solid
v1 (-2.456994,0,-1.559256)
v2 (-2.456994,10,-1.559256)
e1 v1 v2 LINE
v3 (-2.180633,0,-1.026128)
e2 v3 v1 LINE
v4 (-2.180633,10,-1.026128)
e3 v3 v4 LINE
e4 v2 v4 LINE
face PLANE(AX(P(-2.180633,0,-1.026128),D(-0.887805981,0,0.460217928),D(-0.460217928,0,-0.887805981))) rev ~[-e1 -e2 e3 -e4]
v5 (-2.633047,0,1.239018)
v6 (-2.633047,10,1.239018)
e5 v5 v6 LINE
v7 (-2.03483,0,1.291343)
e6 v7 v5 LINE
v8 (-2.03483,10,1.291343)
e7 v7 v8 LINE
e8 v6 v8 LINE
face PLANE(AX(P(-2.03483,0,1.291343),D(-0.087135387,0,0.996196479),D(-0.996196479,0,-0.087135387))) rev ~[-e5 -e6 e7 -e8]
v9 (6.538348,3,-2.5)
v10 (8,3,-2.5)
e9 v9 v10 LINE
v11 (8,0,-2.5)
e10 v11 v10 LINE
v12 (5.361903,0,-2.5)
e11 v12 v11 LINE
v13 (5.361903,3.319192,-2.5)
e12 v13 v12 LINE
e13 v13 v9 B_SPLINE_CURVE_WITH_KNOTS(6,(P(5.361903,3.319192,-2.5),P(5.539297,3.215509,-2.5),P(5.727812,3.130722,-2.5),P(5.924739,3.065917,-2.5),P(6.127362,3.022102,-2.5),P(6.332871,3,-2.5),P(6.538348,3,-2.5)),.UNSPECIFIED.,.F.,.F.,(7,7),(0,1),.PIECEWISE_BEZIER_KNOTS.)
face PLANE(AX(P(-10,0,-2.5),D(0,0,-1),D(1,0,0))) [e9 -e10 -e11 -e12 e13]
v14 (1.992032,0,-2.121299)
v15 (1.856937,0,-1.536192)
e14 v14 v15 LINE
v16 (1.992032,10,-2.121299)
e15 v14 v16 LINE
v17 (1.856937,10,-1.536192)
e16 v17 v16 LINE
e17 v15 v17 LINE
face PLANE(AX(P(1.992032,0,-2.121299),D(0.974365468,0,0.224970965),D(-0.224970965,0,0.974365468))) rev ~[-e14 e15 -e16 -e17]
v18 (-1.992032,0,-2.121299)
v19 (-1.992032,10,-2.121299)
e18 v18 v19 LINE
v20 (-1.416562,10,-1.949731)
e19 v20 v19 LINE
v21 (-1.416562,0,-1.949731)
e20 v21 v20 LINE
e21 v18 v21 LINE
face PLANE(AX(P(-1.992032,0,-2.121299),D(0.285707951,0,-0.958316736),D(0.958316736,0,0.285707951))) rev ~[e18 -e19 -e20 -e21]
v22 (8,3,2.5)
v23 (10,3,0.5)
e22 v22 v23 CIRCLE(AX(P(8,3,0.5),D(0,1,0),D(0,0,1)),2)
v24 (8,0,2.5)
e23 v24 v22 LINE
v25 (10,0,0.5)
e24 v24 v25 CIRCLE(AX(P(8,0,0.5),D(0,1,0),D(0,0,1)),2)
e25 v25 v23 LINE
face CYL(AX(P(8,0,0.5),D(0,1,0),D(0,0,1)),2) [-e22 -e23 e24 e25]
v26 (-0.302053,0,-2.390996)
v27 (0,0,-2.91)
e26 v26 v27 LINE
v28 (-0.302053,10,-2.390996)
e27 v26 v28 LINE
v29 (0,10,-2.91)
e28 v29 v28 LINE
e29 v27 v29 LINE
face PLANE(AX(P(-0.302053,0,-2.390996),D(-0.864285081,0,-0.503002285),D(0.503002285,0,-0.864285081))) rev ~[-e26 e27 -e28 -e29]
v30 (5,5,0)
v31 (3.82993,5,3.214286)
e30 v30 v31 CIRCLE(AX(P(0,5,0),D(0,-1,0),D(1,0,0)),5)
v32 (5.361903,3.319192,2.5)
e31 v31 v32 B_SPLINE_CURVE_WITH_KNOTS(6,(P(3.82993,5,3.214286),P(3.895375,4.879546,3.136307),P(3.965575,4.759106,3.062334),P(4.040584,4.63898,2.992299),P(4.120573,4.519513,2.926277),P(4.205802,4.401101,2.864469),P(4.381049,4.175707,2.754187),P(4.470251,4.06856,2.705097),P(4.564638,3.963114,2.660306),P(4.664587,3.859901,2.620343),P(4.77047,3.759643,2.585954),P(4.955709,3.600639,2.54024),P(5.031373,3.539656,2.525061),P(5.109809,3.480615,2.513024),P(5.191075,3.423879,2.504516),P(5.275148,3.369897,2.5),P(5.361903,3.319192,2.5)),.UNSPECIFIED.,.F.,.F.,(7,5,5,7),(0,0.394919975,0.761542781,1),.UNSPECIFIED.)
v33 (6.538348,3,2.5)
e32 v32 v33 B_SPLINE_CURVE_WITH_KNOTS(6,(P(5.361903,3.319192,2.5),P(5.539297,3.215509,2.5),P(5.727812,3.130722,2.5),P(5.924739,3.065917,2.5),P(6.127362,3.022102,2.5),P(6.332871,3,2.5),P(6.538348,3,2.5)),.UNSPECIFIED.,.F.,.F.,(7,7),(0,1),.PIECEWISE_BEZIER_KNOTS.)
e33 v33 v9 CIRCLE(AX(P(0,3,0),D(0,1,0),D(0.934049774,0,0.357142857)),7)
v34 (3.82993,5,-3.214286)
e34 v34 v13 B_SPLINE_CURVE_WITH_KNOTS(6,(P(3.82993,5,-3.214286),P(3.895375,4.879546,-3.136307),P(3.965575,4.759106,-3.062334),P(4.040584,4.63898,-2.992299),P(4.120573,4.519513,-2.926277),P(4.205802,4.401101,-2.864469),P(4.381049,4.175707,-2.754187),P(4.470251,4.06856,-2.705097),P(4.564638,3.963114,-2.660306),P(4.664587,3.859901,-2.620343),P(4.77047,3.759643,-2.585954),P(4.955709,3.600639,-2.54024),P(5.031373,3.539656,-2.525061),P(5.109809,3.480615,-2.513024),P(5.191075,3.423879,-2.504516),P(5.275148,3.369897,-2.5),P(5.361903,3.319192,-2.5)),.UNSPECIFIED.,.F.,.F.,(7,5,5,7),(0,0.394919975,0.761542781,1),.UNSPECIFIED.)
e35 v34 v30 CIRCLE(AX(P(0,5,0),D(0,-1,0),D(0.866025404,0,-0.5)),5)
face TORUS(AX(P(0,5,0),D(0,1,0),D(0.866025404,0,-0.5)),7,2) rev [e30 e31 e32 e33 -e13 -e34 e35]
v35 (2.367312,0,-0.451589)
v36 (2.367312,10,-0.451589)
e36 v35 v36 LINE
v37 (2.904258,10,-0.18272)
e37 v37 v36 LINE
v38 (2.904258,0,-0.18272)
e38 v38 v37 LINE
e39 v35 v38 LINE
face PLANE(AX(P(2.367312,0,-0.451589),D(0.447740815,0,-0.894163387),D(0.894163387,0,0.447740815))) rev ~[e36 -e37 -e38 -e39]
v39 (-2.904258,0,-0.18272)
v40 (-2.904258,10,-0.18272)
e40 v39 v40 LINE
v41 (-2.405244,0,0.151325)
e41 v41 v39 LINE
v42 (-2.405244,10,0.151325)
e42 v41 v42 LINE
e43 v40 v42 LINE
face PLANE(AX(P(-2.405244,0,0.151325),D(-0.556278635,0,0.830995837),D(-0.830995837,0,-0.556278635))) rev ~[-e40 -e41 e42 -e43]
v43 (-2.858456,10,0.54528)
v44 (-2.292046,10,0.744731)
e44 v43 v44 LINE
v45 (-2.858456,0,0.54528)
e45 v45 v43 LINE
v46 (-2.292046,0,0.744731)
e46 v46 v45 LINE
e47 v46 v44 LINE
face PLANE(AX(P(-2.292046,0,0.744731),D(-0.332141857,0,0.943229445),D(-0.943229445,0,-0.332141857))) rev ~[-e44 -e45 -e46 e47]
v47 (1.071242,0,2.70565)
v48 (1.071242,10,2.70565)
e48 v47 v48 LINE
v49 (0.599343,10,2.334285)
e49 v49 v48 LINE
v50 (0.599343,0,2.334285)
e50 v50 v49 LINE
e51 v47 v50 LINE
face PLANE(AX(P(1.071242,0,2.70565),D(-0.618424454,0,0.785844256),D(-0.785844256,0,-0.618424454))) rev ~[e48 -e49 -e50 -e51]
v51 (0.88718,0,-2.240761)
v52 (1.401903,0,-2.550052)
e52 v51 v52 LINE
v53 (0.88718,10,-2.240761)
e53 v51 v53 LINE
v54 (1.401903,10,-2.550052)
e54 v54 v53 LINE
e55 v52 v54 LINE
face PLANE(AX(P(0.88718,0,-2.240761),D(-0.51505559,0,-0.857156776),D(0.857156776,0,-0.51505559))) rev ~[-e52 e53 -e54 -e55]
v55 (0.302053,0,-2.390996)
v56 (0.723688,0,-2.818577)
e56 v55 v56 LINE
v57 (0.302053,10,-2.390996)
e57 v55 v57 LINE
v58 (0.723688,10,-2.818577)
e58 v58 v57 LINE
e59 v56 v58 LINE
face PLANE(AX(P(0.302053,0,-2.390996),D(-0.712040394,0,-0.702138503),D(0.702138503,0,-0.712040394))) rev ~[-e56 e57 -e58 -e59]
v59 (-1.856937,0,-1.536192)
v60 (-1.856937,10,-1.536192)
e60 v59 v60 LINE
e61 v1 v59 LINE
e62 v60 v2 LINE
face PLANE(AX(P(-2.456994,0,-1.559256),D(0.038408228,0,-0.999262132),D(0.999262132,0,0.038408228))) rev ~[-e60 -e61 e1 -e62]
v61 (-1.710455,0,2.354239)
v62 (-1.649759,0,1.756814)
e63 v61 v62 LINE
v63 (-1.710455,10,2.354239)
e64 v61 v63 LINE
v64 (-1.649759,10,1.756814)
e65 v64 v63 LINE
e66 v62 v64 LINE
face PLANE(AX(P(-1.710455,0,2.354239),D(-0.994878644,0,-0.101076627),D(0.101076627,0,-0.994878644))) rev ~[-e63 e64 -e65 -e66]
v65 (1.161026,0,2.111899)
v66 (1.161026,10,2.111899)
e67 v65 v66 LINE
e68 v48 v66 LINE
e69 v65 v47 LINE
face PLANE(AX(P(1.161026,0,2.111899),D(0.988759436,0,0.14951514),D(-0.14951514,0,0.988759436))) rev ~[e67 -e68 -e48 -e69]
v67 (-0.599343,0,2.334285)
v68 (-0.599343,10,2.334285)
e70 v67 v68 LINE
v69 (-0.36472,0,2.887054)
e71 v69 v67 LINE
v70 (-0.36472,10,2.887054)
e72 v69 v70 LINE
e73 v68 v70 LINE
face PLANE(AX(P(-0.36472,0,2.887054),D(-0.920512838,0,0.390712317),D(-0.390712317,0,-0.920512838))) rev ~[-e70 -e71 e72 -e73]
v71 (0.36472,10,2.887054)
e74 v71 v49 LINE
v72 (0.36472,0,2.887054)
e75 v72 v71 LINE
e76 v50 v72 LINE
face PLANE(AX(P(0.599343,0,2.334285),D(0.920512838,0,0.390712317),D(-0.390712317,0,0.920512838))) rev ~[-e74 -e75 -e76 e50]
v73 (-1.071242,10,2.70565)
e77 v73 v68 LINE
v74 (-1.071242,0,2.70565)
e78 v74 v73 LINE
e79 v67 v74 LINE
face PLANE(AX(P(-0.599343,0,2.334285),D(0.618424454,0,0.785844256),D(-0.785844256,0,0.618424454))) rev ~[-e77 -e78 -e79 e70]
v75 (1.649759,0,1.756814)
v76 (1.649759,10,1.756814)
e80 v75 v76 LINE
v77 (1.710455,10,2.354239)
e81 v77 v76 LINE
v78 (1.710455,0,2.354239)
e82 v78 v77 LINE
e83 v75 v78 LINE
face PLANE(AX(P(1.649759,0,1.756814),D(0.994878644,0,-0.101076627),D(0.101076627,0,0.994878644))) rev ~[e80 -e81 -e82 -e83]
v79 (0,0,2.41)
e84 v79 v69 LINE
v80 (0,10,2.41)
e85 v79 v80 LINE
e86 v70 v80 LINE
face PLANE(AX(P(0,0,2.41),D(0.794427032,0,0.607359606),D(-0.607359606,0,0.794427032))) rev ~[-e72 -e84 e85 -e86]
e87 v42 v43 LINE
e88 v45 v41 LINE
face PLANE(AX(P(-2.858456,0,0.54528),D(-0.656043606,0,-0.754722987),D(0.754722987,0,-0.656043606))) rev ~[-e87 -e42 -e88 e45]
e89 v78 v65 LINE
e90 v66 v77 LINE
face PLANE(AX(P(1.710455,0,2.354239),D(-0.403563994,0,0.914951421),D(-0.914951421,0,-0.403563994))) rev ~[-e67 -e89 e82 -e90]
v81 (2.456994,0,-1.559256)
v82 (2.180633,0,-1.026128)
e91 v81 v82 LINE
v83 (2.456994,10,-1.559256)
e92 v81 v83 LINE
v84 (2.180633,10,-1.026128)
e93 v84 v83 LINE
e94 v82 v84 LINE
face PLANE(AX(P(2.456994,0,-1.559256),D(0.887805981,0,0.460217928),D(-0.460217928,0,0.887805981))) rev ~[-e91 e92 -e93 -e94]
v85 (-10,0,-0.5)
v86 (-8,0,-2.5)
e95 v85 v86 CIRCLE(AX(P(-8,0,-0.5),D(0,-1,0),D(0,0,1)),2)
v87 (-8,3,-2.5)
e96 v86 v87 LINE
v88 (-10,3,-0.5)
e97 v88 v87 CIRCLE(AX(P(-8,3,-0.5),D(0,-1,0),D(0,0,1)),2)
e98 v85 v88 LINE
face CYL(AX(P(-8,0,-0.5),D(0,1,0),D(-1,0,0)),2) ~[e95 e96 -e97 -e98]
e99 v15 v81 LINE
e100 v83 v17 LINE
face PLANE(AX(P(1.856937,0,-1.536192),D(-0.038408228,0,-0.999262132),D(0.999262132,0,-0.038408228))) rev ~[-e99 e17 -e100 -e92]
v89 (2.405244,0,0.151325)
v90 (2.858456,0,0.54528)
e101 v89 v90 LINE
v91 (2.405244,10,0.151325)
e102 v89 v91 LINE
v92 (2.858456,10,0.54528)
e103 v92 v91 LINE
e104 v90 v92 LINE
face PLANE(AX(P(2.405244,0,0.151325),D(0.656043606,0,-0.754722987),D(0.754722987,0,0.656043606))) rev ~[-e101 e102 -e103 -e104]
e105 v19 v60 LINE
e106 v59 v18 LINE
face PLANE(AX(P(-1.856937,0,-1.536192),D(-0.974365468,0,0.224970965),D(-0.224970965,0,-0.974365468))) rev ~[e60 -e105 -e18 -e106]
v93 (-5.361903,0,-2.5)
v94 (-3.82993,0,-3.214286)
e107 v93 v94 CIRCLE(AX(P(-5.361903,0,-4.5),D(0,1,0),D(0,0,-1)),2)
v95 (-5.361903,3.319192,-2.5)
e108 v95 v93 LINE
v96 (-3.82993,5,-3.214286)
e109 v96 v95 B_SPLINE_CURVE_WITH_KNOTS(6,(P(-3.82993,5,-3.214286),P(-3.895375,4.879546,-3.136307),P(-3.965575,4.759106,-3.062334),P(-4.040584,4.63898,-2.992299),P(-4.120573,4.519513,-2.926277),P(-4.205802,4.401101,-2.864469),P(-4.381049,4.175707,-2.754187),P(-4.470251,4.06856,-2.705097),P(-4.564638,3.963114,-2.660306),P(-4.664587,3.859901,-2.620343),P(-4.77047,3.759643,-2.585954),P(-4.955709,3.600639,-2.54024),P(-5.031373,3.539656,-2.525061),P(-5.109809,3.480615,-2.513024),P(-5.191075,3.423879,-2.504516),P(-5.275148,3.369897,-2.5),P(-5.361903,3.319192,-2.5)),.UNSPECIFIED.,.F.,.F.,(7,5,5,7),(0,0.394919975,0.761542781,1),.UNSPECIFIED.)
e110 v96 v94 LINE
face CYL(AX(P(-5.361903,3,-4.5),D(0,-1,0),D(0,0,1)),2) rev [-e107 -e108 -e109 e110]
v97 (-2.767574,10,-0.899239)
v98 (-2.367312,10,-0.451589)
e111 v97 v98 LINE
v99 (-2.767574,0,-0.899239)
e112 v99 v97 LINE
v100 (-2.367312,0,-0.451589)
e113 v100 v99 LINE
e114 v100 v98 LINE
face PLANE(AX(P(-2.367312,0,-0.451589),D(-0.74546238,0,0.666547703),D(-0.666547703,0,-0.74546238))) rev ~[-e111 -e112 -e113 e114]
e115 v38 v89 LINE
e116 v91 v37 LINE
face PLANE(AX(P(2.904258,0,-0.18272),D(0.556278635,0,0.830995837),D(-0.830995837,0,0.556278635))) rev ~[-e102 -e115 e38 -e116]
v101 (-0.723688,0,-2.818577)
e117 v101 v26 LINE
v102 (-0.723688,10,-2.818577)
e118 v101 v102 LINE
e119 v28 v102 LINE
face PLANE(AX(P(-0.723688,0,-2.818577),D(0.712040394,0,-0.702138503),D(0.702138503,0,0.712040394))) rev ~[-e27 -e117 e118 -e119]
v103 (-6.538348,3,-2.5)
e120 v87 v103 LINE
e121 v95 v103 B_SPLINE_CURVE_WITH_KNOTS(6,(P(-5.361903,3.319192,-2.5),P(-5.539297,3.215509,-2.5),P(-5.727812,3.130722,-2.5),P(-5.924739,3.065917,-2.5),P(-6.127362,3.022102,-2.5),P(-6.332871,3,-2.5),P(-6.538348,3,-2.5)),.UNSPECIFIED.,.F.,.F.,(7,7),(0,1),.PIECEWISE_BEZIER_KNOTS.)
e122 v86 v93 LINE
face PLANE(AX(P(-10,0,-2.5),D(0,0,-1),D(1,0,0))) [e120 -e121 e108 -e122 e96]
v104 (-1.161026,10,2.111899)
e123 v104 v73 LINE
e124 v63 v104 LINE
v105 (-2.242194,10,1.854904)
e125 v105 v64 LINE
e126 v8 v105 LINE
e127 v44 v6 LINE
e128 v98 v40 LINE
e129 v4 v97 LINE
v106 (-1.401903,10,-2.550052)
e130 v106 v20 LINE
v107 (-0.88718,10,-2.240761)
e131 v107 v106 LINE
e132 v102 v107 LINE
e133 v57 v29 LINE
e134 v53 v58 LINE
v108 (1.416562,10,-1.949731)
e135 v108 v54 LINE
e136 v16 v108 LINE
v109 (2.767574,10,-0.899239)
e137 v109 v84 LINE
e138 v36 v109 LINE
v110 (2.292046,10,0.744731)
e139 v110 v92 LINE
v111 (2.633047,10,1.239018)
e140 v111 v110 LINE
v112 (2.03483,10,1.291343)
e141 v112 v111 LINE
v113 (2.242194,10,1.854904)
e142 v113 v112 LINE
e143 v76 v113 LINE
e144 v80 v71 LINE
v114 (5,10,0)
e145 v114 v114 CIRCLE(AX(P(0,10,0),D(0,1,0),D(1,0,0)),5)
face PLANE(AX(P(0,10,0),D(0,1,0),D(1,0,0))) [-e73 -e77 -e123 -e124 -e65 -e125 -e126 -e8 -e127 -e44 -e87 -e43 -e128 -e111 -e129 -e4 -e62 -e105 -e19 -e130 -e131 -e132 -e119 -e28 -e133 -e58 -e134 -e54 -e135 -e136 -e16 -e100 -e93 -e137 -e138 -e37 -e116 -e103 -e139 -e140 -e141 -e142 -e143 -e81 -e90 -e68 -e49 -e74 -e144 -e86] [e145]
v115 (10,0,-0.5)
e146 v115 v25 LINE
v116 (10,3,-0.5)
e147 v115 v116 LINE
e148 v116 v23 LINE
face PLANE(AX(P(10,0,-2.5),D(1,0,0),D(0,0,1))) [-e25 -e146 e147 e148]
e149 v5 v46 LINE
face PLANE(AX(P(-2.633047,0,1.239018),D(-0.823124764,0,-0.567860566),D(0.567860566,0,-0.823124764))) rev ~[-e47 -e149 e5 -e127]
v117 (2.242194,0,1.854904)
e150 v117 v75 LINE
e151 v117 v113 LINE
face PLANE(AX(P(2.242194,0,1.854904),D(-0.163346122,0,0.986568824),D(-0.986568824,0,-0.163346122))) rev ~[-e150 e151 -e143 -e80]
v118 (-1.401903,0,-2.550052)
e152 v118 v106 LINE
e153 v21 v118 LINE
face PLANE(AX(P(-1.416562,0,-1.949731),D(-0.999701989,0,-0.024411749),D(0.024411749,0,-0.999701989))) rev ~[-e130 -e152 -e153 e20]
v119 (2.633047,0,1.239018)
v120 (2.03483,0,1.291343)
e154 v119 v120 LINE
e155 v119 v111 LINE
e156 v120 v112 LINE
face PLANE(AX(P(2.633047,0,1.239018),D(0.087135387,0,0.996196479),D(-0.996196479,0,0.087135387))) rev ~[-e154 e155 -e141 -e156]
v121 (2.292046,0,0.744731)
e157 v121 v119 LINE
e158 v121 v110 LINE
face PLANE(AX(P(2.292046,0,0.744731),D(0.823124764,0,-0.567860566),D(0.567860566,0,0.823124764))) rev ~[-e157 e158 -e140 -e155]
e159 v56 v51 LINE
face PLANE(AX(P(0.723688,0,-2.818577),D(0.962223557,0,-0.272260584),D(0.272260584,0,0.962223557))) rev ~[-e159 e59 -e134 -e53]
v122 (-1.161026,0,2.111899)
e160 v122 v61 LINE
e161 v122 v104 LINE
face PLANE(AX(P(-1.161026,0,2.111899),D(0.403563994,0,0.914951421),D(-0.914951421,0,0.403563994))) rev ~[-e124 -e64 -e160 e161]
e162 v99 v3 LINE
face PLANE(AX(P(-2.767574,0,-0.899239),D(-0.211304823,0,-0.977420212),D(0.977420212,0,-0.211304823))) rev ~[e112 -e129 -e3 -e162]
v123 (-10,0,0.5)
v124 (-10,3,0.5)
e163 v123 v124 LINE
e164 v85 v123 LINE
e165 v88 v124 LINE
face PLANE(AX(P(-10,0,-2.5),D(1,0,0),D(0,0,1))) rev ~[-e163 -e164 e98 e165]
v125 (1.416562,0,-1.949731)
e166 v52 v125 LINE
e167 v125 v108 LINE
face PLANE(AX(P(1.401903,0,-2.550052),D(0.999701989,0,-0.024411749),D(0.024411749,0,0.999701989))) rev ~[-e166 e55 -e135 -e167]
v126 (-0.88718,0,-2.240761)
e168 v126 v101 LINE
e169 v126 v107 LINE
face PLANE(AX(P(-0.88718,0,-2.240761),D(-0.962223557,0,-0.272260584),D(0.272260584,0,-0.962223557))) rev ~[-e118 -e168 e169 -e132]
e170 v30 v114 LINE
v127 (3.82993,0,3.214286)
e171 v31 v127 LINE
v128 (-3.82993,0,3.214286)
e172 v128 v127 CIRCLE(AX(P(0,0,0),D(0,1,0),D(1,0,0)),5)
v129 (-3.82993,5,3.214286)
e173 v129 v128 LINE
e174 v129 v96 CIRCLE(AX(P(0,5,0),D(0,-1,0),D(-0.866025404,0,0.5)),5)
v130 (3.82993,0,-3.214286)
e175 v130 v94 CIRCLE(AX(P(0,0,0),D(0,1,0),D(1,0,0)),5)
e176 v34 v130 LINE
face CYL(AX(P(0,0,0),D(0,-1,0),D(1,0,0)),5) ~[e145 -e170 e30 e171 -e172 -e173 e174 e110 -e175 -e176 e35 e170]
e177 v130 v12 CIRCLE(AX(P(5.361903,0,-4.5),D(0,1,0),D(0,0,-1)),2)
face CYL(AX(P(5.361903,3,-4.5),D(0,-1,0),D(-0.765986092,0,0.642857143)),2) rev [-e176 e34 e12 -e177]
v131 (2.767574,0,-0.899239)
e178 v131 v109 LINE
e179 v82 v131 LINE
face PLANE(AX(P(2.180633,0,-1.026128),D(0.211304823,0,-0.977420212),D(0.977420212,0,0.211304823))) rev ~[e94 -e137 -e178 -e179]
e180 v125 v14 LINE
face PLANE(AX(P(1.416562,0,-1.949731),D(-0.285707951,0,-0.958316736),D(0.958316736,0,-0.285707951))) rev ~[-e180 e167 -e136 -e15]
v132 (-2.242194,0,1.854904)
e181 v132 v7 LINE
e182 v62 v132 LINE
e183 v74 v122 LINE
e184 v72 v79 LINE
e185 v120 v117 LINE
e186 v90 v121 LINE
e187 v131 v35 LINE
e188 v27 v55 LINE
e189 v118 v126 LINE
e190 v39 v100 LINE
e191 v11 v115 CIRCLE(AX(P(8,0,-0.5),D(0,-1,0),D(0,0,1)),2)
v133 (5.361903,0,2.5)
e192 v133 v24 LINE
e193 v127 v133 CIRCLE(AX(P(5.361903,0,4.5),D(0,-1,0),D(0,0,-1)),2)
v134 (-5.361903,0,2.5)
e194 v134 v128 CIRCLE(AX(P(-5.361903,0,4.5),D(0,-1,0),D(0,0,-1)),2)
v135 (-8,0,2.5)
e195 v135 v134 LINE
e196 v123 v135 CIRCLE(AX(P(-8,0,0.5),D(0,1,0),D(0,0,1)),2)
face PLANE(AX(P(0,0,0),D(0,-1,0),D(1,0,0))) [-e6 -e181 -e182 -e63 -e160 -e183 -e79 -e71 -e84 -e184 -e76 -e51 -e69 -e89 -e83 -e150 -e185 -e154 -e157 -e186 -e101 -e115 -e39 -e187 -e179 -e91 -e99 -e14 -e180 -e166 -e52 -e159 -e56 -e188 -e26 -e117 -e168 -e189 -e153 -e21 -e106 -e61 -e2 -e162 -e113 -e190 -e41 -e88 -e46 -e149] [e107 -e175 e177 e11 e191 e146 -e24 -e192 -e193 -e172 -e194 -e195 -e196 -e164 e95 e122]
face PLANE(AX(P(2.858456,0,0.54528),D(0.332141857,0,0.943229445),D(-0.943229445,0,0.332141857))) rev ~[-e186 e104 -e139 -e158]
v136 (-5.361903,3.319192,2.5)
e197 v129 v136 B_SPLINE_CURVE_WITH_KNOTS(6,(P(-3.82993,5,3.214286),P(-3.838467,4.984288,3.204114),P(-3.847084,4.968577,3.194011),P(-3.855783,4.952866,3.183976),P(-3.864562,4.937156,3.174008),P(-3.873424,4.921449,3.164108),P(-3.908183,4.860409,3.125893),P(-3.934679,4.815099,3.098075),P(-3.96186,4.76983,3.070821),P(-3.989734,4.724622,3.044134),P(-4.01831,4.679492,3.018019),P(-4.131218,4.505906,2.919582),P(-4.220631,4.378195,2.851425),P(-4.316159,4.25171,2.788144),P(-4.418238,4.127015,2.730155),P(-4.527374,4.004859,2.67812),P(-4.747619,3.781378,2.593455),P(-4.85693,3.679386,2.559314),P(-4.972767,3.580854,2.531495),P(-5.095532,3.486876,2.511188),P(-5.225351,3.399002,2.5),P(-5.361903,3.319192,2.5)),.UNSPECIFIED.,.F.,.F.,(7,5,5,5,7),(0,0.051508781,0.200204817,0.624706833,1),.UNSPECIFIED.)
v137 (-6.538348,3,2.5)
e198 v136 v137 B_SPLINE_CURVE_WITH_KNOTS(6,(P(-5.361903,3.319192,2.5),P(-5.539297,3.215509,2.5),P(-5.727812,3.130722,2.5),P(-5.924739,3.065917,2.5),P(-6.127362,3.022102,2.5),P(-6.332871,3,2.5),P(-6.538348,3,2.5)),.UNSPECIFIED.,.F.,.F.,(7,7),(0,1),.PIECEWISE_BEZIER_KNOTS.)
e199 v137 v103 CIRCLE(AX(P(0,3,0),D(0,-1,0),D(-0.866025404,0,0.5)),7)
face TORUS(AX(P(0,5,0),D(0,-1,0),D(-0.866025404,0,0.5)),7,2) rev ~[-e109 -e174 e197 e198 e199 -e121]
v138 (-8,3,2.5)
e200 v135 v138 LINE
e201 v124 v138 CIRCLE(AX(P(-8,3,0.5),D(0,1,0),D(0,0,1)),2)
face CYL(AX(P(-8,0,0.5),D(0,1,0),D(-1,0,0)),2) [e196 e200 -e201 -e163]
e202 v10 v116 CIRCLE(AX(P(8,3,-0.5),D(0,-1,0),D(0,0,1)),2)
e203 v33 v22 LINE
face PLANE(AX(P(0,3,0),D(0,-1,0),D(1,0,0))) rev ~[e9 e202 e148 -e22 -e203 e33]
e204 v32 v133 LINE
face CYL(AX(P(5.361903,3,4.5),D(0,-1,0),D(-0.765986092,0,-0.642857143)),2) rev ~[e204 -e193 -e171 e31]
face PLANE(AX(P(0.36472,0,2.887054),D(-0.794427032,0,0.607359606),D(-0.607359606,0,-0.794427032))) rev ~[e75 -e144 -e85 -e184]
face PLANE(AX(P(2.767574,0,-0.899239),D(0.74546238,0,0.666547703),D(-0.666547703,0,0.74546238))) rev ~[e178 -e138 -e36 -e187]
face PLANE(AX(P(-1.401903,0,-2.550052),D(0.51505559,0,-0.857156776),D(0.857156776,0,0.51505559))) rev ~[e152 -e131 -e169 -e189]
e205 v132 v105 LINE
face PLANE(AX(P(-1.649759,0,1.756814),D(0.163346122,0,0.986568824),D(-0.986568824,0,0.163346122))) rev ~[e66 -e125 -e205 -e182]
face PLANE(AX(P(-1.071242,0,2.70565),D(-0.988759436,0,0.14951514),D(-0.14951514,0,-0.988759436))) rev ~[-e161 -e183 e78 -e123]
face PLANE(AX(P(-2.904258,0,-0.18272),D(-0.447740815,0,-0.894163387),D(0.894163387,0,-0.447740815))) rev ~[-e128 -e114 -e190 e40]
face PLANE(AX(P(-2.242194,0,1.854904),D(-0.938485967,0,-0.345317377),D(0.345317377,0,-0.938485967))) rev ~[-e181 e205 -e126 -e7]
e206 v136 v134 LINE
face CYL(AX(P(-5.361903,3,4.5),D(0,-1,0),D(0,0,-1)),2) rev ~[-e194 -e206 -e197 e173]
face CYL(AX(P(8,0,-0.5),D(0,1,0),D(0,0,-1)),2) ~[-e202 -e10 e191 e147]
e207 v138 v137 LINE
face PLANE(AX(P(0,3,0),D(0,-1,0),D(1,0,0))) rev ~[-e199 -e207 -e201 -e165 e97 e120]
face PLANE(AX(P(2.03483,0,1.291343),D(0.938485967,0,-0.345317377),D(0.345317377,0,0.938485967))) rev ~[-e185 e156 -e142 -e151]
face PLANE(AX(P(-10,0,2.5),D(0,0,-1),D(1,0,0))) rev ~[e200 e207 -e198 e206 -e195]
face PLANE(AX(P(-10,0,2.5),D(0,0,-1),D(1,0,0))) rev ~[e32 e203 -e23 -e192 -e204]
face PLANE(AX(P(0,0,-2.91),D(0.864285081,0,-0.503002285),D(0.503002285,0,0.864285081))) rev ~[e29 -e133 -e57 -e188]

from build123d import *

# Parameters (mm, degrees)
SKETCH3_R           = 5
BOSS_EXTRUDE1_DEPTH = 10
SKETCH4_W           = 20
SKETCH4_H           = 5
BOSS_EXTRUDE2_DEPTH = 3
CUT_EXTRUDE1_DEPTH  = 11
FILLET2_R           = 2


with BuildPart() as part:
    # Sketch3 → Boss-Extrude1 (new body)
    with BuildSketch(Plane(origin=(0, 0, 0), x_dir=(1, 0, 0), z_dir=(0, 1, 0))):
        Circle(SKETCH3_R)
    extrude(amount=BOSS_EXTRUDE1_DEPTH)

    # Sketch4 → Boss-Extrude2 (add)
    with BuildSketch(Plane.XZ):
        Rectangle(SKETCH4_W, SKETCH4_H)
    extrude(amount=-BOSS_EXTRUDE2_DEPTH)

    # Sketch2 → Cut-Extrude1 (cut, through all)
    with BuildSketch(Plane(origin=(0, 0, 0), x_dir=(1, 0, 0), z_dir=(0, 1, 0))):
        Polygon((-0.302053093, 2.39099643), (0, 2.91), (0.302053093, 2.39099643), (0.723687572, 2.818576999), (0.887180172, 2.240761331), (1.401903192, 2.550052439), (1.416562458, 1.949730956), (1.992032078, 2.121298706), (1.856936915, 1.536191815), (2.456994263, 1.559255973), (2.180633196, 1.026128093), (2.767574462, 0.899239454), (2.367312274, 0.451588968), (2.90425778, 0.182720412), (2.405244416, -0.151325152), (2.8584559, -0.545279625), (2.292046204, -0.744730956), (2.633046723, -1.239017738), (2.0348303, -1.291342576), (2.242193536, -1.85490381), (1.649758525, -1.756814392), (1.710455084, -2.354239454), (1.161026355, -2.111899099), (1.071242448, -2.705649574), (0.599342628, -2.334285418), (0.36471971, -2.887053781), (0, -2.41), (-0.36471971, -2.887053781), (-0.599342628, -2.334285418), (-1.071242448, -2.705649574), (-1.161026355, -2.111899099), (-1.710455084, -2.354239454), (-1.649758525, -1.756814392), (-2.242193536, -1.85490381), (-2.0348303, -1.291342576), (-2.633046723, -1.239017738), (-2.292046204, -0.744730956), (-2.8584559, -0.545279625), (-2.405244416, -0.151325152), (-2.90425778, 0.182720412), (-2.367312274, 0.451588968), (-2.767574462, 0.899239454), (-2.180633196, 1.026128093), (-2.456994263, 1.559255973), (-1.856936915, 1.536191815), (-1.992032078, 2.121298706), (-1.416562458, 1.949730956), (-1.401903192, 2.550052439), (-0.887180172, 2.240761331), (-0.723687572, 2.818576999), align=None)
    extrude(amount=CUT_EXTRUDE1_DEPTH, mode=Mode.SUBTRACT)

    # Fillet2
    fillet2_edges = [part.edges().sort_by_distance(p)[0] for p in [
        (10, 1.5, -2.5),
        (-10, 1.5, 2.5),
        (10, 1.5, 2.5),
        (4.330127019, 1.5, -2.5),
        (-4.330127019, 1.5, -2.5),
        (-10, 1.5, -2.5),
        (-4.330127019, 1.5, 2.5),
        (4.330127019, 1.5, 2.5),
        (-5, 3, 0),
        (4.829629131, 3, -1.294095226),
    ]]
    fillet(fillet2_edges, radius=FILLET2_R)


solid = part.part
